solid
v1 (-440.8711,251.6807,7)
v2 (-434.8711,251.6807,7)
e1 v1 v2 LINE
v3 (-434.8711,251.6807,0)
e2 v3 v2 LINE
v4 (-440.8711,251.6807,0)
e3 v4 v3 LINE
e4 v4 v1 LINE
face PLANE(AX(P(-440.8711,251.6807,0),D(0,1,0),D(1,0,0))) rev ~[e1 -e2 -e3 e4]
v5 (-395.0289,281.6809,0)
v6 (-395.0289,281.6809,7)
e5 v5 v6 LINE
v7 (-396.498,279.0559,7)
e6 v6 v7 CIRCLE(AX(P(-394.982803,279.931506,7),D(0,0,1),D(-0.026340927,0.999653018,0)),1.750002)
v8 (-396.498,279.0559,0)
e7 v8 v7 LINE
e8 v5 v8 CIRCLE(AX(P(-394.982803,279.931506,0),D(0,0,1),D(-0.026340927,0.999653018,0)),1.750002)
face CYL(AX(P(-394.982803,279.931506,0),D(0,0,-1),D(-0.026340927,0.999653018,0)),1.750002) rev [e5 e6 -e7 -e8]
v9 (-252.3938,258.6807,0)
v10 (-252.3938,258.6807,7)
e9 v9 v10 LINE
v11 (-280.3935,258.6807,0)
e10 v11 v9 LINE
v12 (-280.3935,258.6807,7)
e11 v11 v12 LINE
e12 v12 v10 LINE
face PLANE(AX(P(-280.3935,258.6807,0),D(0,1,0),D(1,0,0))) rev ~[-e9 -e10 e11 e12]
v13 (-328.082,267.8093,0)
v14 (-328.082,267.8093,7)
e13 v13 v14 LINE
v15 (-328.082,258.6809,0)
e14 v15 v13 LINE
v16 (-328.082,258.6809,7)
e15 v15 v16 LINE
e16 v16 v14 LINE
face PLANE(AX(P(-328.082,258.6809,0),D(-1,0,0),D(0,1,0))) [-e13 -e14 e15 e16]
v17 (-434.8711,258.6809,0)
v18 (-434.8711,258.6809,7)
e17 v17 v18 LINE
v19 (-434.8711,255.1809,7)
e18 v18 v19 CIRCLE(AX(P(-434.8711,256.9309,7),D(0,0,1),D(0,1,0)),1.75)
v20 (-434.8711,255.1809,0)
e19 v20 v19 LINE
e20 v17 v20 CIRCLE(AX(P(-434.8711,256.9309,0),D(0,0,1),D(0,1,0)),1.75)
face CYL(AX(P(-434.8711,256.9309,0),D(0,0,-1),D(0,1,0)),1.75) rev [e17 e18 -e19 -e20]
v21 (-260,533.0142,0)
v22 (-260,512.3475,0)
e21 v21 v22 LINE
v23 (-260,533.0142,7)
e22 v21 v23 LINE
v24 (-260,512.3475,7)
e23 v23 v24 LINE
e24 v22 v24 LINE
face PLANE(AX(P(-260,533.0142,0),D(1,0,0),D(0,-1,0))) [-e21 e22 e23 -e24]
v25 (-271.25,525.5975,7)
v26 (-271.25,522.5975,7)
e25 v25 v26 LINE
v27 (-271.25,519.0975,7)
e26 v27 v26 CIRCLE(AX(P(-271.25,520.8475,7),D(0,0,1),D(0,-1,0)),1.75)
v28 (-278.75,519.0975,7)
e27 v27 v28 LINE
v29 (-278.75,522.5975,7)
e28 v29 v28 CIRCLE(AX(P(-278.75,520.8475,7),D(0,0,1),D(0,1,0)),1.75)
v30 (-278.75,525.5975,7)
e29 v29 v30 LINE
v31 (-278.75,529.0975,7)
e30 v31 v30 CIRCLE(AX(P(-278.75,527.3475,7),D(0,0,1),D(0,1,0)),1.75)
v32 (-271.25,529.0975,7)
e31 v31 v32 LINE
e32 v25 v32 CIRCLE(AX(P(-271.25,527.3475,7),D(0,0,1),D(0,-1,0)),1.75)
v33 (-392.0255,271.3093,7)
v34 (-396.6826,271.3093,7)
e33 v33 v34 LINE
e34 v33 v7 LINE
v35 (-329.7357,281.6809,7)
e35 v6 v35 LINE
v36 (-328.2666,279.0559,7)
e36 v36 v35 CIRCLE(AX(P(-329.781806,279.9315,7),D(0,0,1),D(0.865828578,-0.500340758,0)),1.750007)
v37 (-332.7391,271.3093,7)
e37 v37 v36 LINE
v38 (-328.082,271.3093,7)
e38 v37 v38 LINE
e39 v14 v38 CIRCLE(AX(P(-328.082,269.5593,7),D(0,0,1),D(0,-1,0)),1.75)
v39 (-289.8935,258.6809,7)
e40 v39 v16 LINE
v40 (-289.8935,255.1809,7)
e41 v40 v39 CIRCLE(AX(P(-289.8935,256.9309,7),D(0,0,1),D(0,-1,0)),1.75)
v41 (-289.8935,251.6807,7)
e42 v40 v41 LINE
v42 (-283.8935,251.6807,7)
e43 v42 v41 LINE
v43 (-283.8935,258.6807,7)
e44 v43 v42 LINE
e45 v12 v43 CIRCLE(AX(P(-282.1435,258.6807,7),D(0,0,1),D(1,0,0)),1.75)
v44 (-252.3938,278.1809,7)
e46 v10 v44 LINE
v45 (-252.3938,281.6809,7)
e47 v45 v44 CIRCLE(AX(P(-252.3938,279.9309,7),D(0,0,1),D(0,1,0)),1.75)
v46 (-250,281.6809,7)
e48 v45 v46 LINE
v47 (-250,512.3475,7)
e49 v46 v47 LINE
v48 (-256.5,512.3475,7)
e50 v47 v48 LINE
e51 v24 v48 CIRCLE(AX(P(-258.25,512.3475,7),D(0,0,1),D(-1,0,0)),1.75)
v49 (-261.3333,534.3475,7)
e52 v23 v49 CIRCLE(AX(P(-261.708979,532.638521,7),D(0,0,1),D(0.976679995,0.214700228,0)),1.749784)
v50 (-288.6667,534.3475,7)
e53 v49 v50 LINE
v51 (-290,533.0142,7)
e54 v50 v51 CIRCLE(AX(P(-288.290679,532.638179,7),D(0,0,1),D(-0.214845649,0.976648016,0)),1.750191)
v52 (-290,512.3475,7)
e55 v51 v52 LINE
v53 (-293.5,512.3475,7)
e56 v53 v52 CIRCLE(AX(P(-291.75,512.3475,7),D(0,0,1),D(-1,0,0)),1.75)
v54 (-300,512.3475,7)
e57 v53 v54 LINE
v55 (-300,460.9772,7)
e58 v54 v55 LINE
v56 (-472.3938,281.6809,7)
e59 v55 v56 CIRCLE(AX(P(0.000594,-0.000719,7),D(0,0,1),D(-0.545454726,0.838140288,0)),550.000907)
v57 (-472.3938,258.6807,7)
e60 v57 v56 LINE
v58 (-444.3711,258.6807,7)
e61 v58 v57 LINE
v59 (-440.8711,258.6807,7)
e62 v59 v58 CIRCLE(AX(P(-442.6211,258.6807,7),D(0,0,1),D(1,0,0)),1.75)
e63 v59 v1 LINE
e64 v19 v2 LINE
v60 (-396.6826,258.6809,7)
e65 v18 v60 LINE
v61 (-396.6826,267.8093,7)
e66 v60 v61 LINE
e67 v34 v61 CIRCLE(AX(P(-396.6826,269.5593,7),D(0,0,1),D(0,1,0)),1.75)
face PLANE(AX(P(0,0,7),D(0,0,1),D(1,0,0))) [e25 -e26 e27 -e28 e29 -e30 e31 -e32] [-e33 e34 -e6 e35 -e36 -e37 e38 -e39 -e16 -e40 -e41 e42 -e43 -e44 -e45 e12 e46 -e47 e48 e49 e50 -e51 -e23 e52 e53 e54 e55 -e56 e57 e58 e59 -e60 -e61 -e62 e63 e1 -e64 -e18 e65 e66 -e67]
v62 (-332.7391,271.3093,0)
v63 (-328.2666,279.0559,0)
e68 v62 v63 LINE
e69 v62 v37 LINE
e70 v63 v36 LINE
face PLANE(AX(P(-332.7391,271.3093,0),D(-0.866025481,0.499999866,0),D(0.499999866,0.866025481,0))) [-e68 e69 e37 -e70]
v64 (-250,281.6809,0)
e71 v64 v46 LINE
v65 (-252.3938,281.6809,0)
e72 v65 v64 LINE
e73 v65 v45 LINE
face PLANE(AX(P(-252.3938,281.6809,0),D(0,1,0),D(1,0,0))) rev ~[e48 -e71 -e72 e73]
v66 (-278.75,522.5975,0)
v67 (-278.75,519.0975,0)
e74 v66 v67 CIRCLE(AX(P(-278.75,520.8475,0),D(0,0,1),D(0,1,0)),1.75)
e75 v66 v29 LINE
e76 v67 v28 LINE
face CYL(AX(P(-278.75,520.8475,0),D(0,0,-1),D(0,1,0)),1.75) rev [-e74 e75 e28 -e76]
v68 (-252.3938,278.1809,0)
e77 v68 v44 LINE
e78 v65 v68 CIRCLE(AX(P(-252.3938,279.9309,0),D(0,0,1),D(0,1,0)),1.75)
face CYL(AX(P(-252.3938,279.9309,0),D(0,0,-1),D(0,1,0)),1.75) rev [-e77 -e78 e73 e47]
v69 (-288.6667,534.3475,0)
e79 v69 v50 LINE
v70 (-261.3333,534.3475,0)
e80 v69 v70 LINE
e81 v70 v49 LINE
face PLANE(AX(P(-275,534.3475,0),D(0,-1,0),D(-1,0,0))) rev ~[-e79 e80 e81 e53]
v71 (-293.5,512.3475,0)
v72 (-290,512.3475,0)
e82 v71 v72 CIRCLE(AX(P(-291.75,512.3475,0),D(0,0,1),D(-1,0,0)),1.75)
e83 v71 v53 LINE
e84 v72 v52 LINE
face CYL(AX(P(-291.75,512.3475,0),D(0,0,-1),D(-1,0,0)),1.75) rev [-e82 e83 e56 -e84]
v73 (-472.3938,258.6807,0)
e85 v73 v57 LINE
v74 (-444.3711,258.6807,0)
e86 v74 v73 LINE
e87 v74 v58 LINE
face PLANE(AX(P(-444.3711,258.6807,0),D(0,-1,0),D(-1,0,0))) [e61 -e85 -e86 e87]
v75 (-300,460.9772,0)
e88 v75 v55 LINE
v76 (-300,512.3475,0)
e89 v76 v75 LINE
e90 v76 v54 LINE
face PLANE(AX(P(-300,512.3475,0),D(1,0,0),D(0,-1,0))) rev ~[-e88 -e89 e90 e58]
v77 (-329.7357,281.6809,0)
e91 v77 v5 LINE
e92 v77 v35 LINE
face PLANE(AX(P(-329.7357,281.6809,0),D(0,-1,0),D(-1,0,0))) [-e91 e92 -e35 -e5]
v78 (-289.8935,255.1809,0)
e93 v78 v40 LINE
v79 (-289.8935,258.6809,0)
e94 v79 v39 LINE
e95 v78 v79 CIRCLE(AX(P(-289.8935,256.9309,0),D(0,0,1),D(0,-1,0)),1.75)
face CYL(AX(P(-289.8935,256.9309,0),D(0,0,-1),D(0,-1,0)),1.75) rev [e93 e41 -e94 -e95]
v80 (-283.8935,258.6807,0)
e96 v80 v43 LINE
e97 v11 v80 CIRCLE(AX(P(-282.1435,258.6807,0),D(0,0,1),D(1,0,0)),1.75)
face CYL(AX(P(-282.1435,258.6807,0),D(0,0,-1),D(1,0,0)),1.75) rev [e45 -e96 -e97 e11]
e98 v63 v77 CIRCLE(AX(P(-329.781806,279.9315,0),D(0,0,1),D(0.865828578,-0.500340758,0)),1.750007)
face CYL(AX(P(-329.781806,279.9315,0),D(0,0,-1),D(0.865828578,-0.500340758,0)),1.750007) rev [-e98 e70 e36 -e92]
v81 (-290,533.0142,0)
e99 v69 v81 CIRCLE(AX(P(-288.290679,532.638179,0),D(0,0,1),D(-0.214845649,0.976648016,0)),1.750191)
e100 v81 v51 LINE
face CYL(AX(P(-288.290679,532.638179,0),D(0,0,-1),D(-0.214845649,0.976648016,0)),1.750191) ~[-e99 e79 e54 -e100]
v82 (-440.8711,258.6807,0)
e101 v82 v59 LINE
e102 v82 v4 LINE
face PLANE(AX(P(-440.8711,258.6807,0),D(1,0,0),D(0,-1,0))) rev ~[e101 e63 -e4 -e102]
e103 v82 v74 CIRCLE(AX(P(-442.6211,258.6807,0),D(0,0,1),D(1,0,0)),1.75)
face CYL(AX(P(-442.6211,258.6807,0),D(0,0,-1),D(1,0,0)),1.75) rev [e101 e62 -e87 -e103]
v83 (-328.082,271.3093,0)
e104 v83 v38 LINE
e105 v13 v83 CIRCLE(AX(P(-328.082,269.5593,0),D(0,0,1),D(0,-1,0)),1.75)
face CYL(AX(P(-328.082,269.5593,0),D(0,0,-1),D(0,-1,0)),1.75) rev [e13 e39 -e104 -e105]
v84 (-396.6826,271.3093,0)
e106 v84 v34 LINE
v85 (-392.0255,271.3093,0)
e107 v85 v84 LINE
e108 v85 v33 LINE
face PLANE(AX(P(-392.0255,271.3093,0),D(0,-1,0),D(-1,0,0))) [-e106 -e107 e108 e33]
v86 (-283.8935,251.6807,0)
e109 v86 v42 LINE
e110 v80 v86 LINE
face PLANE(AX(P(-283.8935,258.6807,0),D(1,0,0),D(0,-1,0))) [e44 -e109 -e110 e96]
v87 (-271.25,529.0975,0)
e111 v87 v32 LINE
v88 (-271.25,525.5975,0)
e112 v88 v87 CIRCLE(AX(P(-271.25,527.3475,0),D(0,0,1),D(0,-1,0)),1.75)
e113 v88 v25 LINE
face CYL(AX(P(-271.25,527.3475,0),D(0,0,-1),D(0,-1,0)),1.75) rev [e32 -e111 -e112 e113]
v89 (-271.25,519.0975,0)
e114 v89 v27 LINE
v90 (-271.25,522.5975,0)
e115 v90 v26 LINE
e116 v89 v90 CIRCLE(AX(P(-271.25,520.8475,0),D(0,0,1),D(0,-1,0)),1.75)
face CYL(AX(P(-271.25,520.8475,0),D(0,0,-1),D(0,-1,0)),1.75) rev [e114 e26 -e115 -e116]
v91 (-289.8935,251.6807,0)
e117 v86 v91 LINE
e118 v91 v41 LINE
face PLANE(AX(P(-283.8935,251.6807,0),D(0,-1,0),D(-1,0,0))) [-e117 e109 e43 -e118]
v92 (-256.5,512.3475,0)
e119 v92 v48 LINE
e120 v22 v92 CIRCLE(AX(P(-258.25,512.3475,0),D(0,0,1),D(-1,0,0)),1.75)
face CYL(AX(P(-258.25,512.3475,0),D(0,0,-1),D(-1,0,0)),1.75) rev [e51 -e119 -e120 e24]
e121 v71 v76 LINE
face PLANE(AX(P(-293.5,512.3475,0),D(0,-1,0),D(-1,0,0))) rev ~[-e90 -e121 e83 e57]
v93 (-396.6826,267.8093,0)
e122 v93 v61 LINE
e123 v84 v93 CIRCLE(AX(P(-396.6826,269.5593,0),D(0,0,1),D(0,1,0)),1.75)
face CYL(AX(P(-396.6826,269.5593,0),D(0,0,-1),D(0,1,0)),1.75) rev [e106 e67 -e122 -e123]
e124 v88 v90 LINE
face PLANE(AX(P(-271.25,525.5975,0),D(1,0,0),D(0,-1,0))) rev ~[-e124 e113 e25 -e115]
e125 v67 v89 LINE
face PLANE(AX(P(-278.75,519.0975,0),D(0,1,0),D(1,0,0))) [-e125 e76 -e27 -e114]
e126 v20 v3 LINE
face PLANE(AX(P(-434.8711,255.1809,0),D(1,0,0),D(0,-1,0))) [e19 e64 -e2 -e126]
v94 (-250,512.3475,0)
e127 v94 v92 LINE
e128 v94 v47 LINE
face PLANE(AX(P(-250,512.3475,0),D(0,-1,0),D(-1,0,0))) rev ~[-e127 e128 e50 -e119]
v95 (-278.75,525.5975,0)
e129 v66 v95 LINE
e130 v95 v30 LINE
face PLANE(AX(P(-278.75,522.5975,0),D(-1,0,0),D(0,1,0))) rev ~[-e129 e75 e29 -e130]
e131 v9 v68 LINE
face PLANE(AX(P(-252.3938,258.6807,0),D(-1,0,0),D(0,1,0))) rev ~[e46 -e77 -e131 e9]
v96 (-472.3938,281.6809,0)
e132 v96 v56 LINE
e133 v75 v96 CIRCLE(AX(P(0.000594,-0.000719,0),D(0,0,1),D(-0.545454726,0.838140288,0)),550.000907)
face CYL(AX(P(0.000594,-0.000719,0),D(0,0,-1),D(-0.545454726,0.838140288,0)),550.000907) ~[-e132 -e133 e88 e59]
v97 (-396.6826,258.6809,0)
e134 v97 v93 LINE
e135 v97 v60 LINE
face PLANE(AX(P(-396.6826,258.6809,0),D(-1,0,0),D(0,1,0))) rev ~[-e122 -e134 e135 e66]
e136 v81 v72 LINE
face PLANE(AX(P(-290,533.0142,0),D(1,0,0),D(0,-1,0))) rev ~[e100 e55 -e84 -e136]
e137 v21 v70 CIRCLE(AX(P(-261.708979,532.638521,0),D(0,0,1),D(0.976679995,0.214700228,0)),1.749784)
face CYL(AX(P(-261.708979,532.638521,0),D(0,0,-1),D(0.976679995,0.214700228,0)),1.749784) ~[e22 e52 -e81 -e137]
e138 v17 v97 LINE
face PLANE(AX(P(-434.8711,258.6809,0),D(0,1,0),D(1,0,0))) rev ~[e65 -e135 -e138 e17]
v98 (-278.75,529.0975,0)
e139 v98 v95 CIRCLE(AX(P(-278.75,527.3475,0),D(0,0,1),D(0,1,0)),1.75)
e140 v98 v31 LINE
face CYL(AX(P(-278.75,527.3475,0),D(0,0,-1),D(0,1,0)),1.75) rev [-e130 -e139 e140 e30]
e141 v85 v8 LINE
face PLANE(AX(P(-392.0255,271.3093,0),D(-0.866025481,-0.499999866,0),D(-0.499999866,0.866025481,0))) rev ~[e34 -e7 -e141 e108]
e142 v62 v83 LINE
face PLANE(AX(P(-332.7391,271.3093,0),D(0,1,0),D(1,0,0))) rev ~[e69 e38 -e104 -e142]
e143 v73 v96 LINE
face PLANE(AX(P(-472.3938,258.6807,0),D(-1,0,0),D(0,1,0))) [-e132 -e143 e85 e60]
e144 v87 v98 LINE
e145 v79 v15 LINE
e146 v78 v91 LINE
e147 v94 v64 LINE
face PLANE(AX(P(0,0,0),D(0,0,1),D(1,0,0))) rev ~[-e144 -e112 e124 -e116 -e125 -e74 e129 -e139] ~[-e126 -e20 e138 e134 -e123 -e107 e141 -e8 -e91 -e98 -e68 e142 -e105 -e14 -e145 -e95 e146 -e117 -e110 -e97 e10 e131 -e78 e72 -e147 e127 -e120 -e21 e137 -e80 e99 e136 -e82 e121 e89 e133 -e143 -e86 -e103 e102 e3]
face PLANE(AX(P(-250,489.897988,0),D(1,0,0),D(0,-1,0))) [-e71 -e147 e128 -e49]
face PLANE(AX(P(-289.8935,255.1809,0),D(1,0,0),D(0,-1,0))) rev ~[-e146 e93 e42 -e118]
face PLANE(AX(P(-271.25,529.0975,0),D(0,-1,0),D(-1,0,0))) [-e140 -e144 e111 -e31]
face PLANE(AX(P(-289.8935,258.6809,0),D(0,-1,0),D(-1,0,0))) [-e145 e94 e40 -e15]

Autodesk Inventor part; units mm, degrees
ref_plane "YZ Plane" through (0, 0, 0) normal (1, 0, 0) x (0, 1, 0)
ref_plane "XZ Plane" through (0, 0, 0) normal (0, 1, 0) x (-1, 0, 0)
ref_plane "XY Plane" through (0, 0, 0) normal (0, 0, 1) x (1, 0, 0)
sketch "Sketch1" plane through (0, 0, 0) normal (0, 0, 1) x (1, 0, 0)
  line L0 (-150, -512.3475) -> (-150, -323.3356) construction
  line L1 (-472.3938, -281.6809) -> (-252.3938, -281.6809) construction
  line L2 (-489.0365, 251.6809) -> (-252.3938, 251.6809) construction
  line L3 (-472.3938, 281.6809) -> (-252.3938, 281.6809) construction
  line L4 (-472.3938, -251.6809) -> (-252.3938, -251.6809) construction
  line L5 (-356.435, 15) -> (-576.435, 15) construction
  line L6 (-472.3938, -281.6809) -> (-472.3938, -251.6809) construction
  line L7 (-252.3938, -281.6809) -> (-252.3938, -251.6809) construction
  line L8 (-252.3938, 278.1809) -> (-252.3938, 251.6809) construction
  line L9 (-472.3938, 281.6809) -> (-472.3938, 251.6809) construction
  line L10 (-356.435, 15) -> (-356.435, -15) construction
  line L11 (-356.435, -15) -> (-576.435, -15) construction
  line L12 (-576.435, -15) -> (-576.435, 15) construction
  arc A0 (-150, -323.3356) -> (0, -356.435) centre (0, 0) ccw construction
  arc A1 (-156.5, -512.3475) -> (-160, -512.3475) centre (-158.25, -512.3475) ccw construction
  arc A2 (-190, -512.3475) -> (-193.5, -512.3475) centre (-191.75, -512.3475) ccw construction
  line L13 (-178.75, -519.0975) -> (-175, -519.0975) construction
  line L14 (-178.75, -529.0975) -> (-175, -529.0975) construction
  line L15 (-175, -519.0975) -> (-175, -529.0975) construction
  arc A3 (-178.75, -519.0975) -> (-178.75, -522.5975) centre (-178.75, -520.8475) ccw construction
  arc A4 (-178.75, -525.5975) -> (-178.75, -529.0975) centre (-178.75, -527.3475) ccw construction
  line L16 (-171.25, -519.0975) -> (-175, -519.0975) construction
  line L17 (-171.25, -529.0975) -> (-175, -529.0975) construction
  arc A5 (-171.25, -522.5975) -> (-171.25, -519.0975) centre (-171.25, -520.8475) ccw construction
  arc A6 (-171.25, -529.0975) -> (-171.25, -525.5975) centre (-171.25, -527.3475) ccw construction
  line L18 (-252.3938, 251.6809) -> (-489.0365, 251.6809) construction
  arc A7 (-334.9122, -265.623) -> (-335.582, -268.123) centre (-330.582, -268.123) ccw construction
  line L19 (-328.3782, -254.3059) -> (-334.9122, -265.623) construction
  arc A8 (-328.3782, -254.3059) -> (-329.8938, -251.6809) centre (-329.8938, -253.4309) ccw construction
  line L20 (-329.8938, -251.6809) -> (-394.8938, -251.6809) construction
  line L21 (-362.3938, -251.6809) -> (-362.3938, -293.6041) construction
  arc A9 (-389.2055, -268.123) -> (-389.8754, -265.623) centre (-394.2055, -268.123) ccw construction
  arc A10 (-394.8938, -251.6809) -> (-396.4093, -254.3059) centre (-394.8938, -253.4309) ccw construction
  line L22 (-396.4093, -254.3059) -> (-389.8754, -265.623) construction
  arc A11 (-389.2055, -291.6809) -> (-389.2055, -288.1809) centre (-389.2055, -289.9309) ccw construction
  line L23 (-389.2055, -291.6809) -> (-396.7055, -291.6809) construction
  line L24 (-396.7055, -281.6809) -> (-472.3938, -281.6809) construction
  line L25 (-328.082, -281.6809) -> (-252.3938, -281.6809) construction
  line L26 (-252.3938, -287.3475) -> (-210.8964, -287.3475) construction
  arc A12 (-210.8964, -287.3475) -> (-150, -323.3356) centre (0, 0) ccw construction
  arc A13 (-472.3938, -281.6809) -> (-246.475, -491.6809) centre (0, 0) ccw construction
  line L27 (-171.25, -436.0915) -> (-171.25, -399.5915) construction
  line L28 (-178.75, -436.0915) -> (-178.75, -399.5915) construction
  line L29 (-177, -437.8415) -> (-173, -437.8415) construction
  line L30 (-177, -397.8415) -> (-173, -397.8415) construction
  arc A14 (-177, -397.8415) -> (-178.75, -399.5915) centre (-177, -399.5915) ccw construction
  arc A15 (-178.75, -436.0915) -> (-177, -437.8415) centre (-177, -436.0915) ccw construction
  arc A16 (-173, -437.8415) -> (-171.25, -436.0915) centre (-173, -436.0915) ccw construction
  arc A17 (-171.25, -399.5915) -> (-173, -397.8415) centre (-173, -399.5915) ccw construction
  line L31 (-200, -512.3475) -> (-200, -491.6809) construction
  arc A18 (-200, -491.6809) -> (-203.5, -491.6809) centre (-201.75, -491.6809) ccw construction
  line L32 (-160, -512.3475) -> (-160, -532.5975) construction
  line L33 (-161.75, -534.3475) -> (-188.25, -534.3475) construction
  line L34 (-190, -532.5975) -> (-190, -512.3475) construction
  line L35 (-171.25, -522.5975) -> (-171.25, -525.5975) construction
  line L36 (-178.75, -522.5975) -> (-178.75, -525.5975) construction
  arc A19 (-190, -532.5975) -> (-188.25, -534.3475) centre (-188.25, -532.5975) ccw construction
  arc A20 (-161.75, -534.3475) -> (-160, -532.5975) centre (-161.75, -532.5975) ccw construction
  line L37 (-156.5, -512.3475) -> (-150, -512.3475) construction
  line L38 (-193.5, -512.3475) -> (-200, -512.3475) construction
  line L39 (-203.5, -491.6809) -> (-246.475, -491.6809) construction
  arc A21 (-396.7055, -288.1809) -> (-396.7055, -291.6809) centre (-396.7055, -289.9309) ccw construction
  line L40 (-396.7055, -281.6809) -> (-396.7055, -288.1809) construction
  line L41 (-389.2055, -288.1809) -> (-389.2055, -268.123) construction
  arc A22 (-335.582, -288.1809) -> (-335.582, -291.6809) centre (-335.582, -289.9309) ccw construction
  line L42 (-335.582, -291.6809) -> (-328.082, -291.6809) construction
  arc A23 (-328.082, -291.6809) -> (-328.082, -288.1809) centre (-328.082, -289.9309) ccw construction
  line L43 (-328.082, -281.6809) -> (-328.082, -288.1809) construction
  line L44 (-335.582, -288.1809) -> (-335.582, -268.123) construction
  arc A24 (-252.3938, -283.8475) -> (-252.3938, -287.3475) centre (-252.3938, -285.5975) ccw construction
  line L45 (-252.3938, -283.8475) -> (-252.3938, -281.6809) construction
  arc A25 (-479.7691, -25) -> (-479.7691, -21.5) centre (-479.7691, -23.25) ccw construction
  arc A26 (-479.7691, -1.4421) -> (-480.4389, 1.0579) centre (-484.7691, -1.4421) ccw construction
  line L46 (-486.9729, 12.375) -> (-480.4389, 1.0579) construction
  arc A27 (-485.4573, 15) -> (-486.9729, 12.375) centre (-485.4573, 13.25) ccw construction
  line L47 (-420.4573, 15) -> (-485.4573, 15) construction
  arc A28 (-425.4757, 1.0579) -> (-426.1456, -1.4421) centre (-421.1456, -1.4421) ccw construction
  arc A29 (-418.9418, 12.375) -> (-420.4573, 15) centre (-420.4573, 13.25) ccw construction
  line L48 (-418.9418, 12.375) -> (-425.4757, 1.0579) construction
  line L49 (-452.9573, 15) -> (-452.9573, -26.9232) construction
  line L50 (-479.7691, -25) -> (-487.2691, -25) construction
  line L51 (-487.2691, -15) -> (-549.7954, -15) construction
  arc A30 (-487.2691, -21.5) -> (-487.2691, -25) centre (-487.2691, -23.25) ccw construction
  line L52 (-487.2691, -15) -> (-487.2691, -21.5) construction
  line L53 (-479.7691, -21.5) -> (-479.7691, -1.4421) construction
  line L54 (-426.1456, -21.5) -> (-426.1456, -1.4421) construction
  arc A31 (-426.1456, -21.5) -> (-426.1456, -25) centre (-426.1456, -23.25) ccw construction
  line L55 (-426.1456, -25) -> (-418.6456, -25) construction
  arc A32 (-418.6456, -25) -> (-418.6456, -21.5) centre (-418.6456, -23.25) ccw construction
  line L56 (-418.6456, -15) -> (-418.6456, -21.5) construction
  line L57 (276.2049, -135.3556) -> (280.6774, -127.609)
  line L58 (279.2083, -124.984) -> (246.5502, -124.984)
  arc A33 (319.0505, -151.484) -> (319.0505, -147.984) centre (319.0505, -149.734) ccw
  arc A34 (328.5505, -147.9841) -> (325.0505, -147.9841) centre (326.8005, -147.9841) ccw
  line L59 (319.0505, -147.984) -> (280.8619, -147.984)
  arc A35 (214.0502, -164.7817) -> (212.5346, -167.4067) centre (214.0502, -166.5317) ccw
  arc A36 (280.5657, -167.4067) -> (279.0502, -164.7817) centre (279.0502, -166.5317) ccw
  arc A37 (274.0318, -178.7238) -> (273.3619, -181.2238) centre (278.3619, -181.2238) ccw
  line L60 (280.5657, -167.4067) -> (274.0318, -178.7238)
  line L61 (273.3619, -201.2817) -> (273.3619, -181.2238)
  arc A38 (273.3619, -201.2817) -> (273.3619, -204.7817) centre (273.3619, -203.0317) ccw
  line L62 (273.3619, -204.7817) -> (280.8619, -204.7817)
  arc A39 (280.8619, -204.7817) -> (280.8619, -201.2817) centre (280.8619, -203.0317) ccw
  line L63 (280.8619, -194.7817) -> (280.8619, -201.2817)
  line L64 (212.2384, -194.7817) -> (212.2384, -201.2817)
  arc A40 (212.2384, -201.2817) -> (212.2384, -204.7817) centre (212.2384, -203.0317) ccw
  arc A41 (219.7384, -204.7817) -> (219.7384, -201.2817) centre (219.7384, -203.0317) ccw
  line L65 (279.0502, -164.7817) -> (214.0502, -164.7817)
  line L66 (219.7384, -201.2817) -> (219.7384, -181.2238)
  line L67 (219.7384, -204.7817) -> (212.2384, -204.7817)
  arc A42 (219.7384, -181.2238) -> (219.0686, -178.7238) centre (214.7384, -181.2238) ccw
  line L68 (212.5346, -167.4067) -> (219.0686, -178.7238)
  line L69 (212.2384, -194.7817) -> (136.5502, -194.7817)
  line L70 (280.8619, -194.7817) -> (356.5502, -194.7817)
  line L71 (325.0505, -147.9841) -> (325.0505, -154.9841)
  line L72 (325.0505, -154.9841) -> (319.0505, -154.9841)
  line L73 (319.0505, -151.484) -> (319.0505, -154.9841)
  line L74 (246.5502, -124.984) -> (246.5502, -110.6064)
  arc A43 (280.6774, -127.609) -> (279.2083, -124.984) centre (279.1622, -126.7334) ccw
  arc A44 (280.8619, -138.8556) -> (280.8619, -135.3556) centre (280.8619, -137.1056) ccw
  line L75 (276.2049, -135.3556) -> (280.8619, -135.3556)
  line L76 (246.5502, -164.7817) -> (246.5502, -170.2759)
  line L77 (280.8619, -147.984) -> (280.8619, -138.8556)
  arc A45 (168.0499, -147.9841) -> (164.5499, -147.9841) centre (166.2999, -147.9841) ccw
  arc A46 (174.0499, -147.984) -> (174.0499, -151.484) centre (174.0499, -149.734) ccw
  line L78 (213.8921, -124.984) -> (246.5502, -124.984)
  line L79 (174.0499, -147.984) -> (212.2384, -147.984)
  line L80 (216.8955, -135.3556) -> (212.423, -127.609)
  line L81 (168.0499, -147.9841) -> (168.0499, -154.9841)
  line L82 (168.0499, -154.9841) -> (174.0499, -154.9841)
  line L83 (174.0499, -151.484) -> (174.0499, -154.9841)
  arc A47 (213.8921, -124.984) -> (212.423, -127.609) centre (213.9382, -126.7334) ccw
  arc A48 (212.2384, -135.3556) -> (212.2384, -138.8556) centre (212.2384, -137.1056) ccw
  line L84 (216.8955, -135.3556) -> (212.2384, -135.3556)
  line L85 (212.2384, -147.984) -> (212.2384, -138.8556)
  arc A49 (-280.3963, -274.7808) -> (-283.8935, -274.681) centre (-282.1435, -274.681) ccw construction
  arc A50 (-289.8935, -278.1809) -> (-289.8935, -274.6809) centre (-289.8935, -276.4309) ccw construction
  line L86 (-329.7357, -251.6809) -> (-362.3938, -251.6809) construction
  line L87 (-289.8935, -274.6809) -> (-328.082, -274.6809) construction
  line L88 (-332.7391, -262.0525) -> (-328.2666, -254.3059) construction
  line L89 (-283.8935, -274.681) -> (-283.8935, -281.681) construction
  line L90 (-283.8935, -281.681) -> (-289.8935, -281.681) construction
  line L91 (-289.8935, -278.1809) -> (-289.8935, -281.681) construction
  arc A51 (-328.2666, -254.3059) -> (-329.7357, -251.6809) centre (-329.7818, -253.4303) ccw construction
  arc A52 (-328.082, -265.5525) -> (-328.082, -262.0525) centre (-328.082, -263.8025) ccw construction
  line L92 (-332.7391, -262.0525) -> (-328.082, -262.0525) construction
  line L93 (-328.082, -274.6809) -> (-328.082, -265.5525) construction
  line L94 (-392.0485, -262.0525) -> (-396.7055, -262.0525) construction
  arc A53 (-396.7055, -262.0525) -> (-396.7055, -265.5525) centre (-396.7055, -263.8025) ccw construction
  line L95 (-392.0485, -262.0525) -> (-396.521, -254.3059) construction
  arc A54 (-395.0519, -251.6809) -> (-396.521, -254.3059) centre (-395.0058, -253.4303) ccw construction
  line L96 (-396.7055, -274.6809) -> (-396.7055, -265.5525) construction
  line L97 (-434.8941, -278.1809) -> (-434.8941, -281.681) construction
  line L98 (-434.8941, -274.6809) -> (-396.7055, -274.6809) construction
  arc A55 (-434.8941, -274.6809) -> (-434.8941, -278.1809) centre (-434.8941, -276.4309) ccw construction
  line L99 (-440.8941, -281.681) -> (-434.8941, -281.681) construction
  line L100 (-440.8941, -274.681) -> (-440.8941, -281.681) construction
  arc A56 (-440.8941, -274.681) -> (-444.3912, -274.7808) centre (-442.6441, -274.681) ccw construction
  line L101 (-395.0519, -251.6809) -> (-362.3938, -251.6809) construction
  line L102 (-444.3912, -274.7808) -> (-476.4404, -274.7808) construction
  arc A57 (-355.7859, -21.5) -> (-227.0273, -274.7808) centre (0, 0) ccw construction
  arc A58 (-549.7954, -15) -> (-476.4404, -274.7808) centre (0, 0) ccw construction
  line L103 (-280.3963, -274.7808) -> (-227.0273, -274.7808) construction
  line L104 (-364.1192, -15) -> (-364.1192, -18) construction
  arc A59 (-364.1192, -18) -> (-364.1192, -21.5) centre (-364.1192, -19.75) ccw construction
  line L105 (-364.1192, -21.5) -> (-355.7859, -21.5) construction
  line L106 (-356.1192, -15) -> (-356.435, -15) construction
  line L107 (-364.1192, -15) -> (-549.7954, -15) construction
  line L108 (-418.6456, -15) -> (-364.1192, -15) construction
  arc A60 (-370.957, -8.0002) -> (-374.457, -8.0002) centre (-372.707, -8.0002) ccw construction
  arc A61 (-380.457, -11.5) -> (-380.457, -8) centre (-380.457, -9.75) ccw construction
  line L109 (-420.2992, 15) -> (-452.9573, 15) construction
  line L110 (-380.457, -8) -> (-418.6456, -8) construction
  line L111 (-423.3026, 4.6284) -> (-418.8301, 12.375) construction
  line L112 (-374.457, -8.0002) -> (-374.457, -15.0002) construction
  line L113 (-374.457, -15.0002) -> (-380.457, -15.0002) construction
  line L114 (-380.457, -11.5) -> (-380.457, -15.0002) construction
  line L115 (-452.9573, 15) -> (-452.9573, 29.3776) construction
  arc A62 (-418.8301, 12.375) -> (-420.2992, 15) centre (-420.3453, 13.2506) ccw construction
  arc A63 (-418.6456, 1.1284) -> (-418.6456, 4.6284) centre (-418.6456, 2.8784) ccw construction
  line L116 (-423.3026, 4.6284) -> (-418.6456, 4.6284) construction
  line L117 (-418.6456, -8) -> (-418.6456, 1.1284) construction
  line L118 (-482.612, 4.6284) -> (-487.2691, 4.6284) construction
  arc A64 (-487.2691, 4.6284) -> (-487.2691, 1.1284) centre (-487.2691, 2.8784) ccw construction
  line L119 (-482.612, 4.6284) -> (-487.0845, 12.375) construction
  arc A65 (-485.6154, 15) -> (-487.0845, 12.375) centre (-485.5693, 13.2506) ccw construction
  line L120 (-487.2691, -8) -> (-487.2691, 1.1284) construction
  line L121 (-525.4576, -11.5) -> (-525.4576, -15.0002) construction
  line L122 (-525.4576, -8) -> (-487.2691, -8) construction
  arc A66 (-525.4576, -8) -> (-525.4576, -11.5) centre (-525.4576, -9.75) ccw construction
  line L123 (-531.4576, -15.0002) -> (-525.4576, -15.0002) construction
  line L124 (-531.4576, -8.0002) -> (-531.4576, -15.0002) construction
  arc A67 (-531.4576, -8.0002) -> (-534.9576, -8.0002) centre (-533.2076, -8.0002) ccw construction
  line L125 (-485.6154, 15) -> (-452.9573, 15) construction
  line L126 (-370.957, -8.0002) -> (-356.3452, -8.0002) construction
  line L127 (-534.9576, -8.0002) -> (-549.9418, -8.0002) construction
  line L128 (-328.082, 251.6809) -> (-328.082, 245.1809) construction
  arc A68 (-328.082, 241.6809) -> (-328.082, 245.1809) centre (-328.082, 243.4309) ccw construction
  line L129 (-396.7055, 251.6809) -> (-396.7055, 245.1809) construction
  arc A69 (-396.7055, 245.1809) -> (-396.7055, 241.6809) centre (-396.7055, 243.4309) ccw construction
  arc A70 (-389.2055, 241.6809) -> (-389.2055, 245.1809) centre (-389.2055, 243.4309) ccw construction
  line L130 (-389.2055, 245.1809) -> (-389.2055, 265.2388) construction
  line L131 (-389.2055, 241.6809) -> (-396.7055, 241.6809) construction
  arc A71 (-389.2055, 265.2388) -> (-389.8754, 267.7388) centre (-394.2055, 265.2388) ccw construction
  line L132 (-396.4093, 279.0559) -> (-389.8754, 267.7388) construction
  arc A72 (-394.8938, 281.6809) -> (-396.4093, 279.0559) centre (-394.8938, 279.9309) ccw construction
  line L133 (-329.8938, 281.6809) -> (-394.8938, 281.6809) construction
  arc A73 (-334.9122, 267.7388) -> (-335.582, 265.2388) centre (-330.582, 265.2388) ccw construction
  arc A74 (-328.3782, 279.0559) -> (-329.8938, 281.6809) centre (-329.8938, 279.9309) ccw construction
  line L134 (-328.3782, 279.0559) -> (-334.9122, 267.7388) construction
  arc A75 (-335.582, 245.1809) -> (-335.582, 241.6809) centre (-335.582, 243.4309) ccw construction
  line L135 (-335.582, 241.6809) -> (-328.082, 241.6809) construction
  line L136 (-335.582, 245.1809) -> (-335.582, 265.2388) construction
  line L137 (-328.082, 251.6809) -> (-252.3938, 251.6809) construction
  line L138 (-396.7055, 251.6809) -> (-472.3938, 251.6809) construction
  line L139 (-362.3938, 281.6809) -> (-362.3938, 276.1867) construction
  line L140 (-472.3938, 251.6809) -> (-472.3938, 248.6809) construction
  arc A76 (-472.3938, 245.1809) -> (-472.3938, 248.6809) centre (-472.3938, 246.9309) ccw construction
  line L141 (-472.3938, 245.1809) -> (-492.3275, 245.1809) construction
  arc A77 (-492.3275, 245.1809) -> (-549.7954, 15) centre (0, 0) ccw construction
  arc A78 (-252.3938, 251.6809) -> (-356.3452, -8.0002) centre (0, 0) ccw construction
  line L142 (-549.7954, 15) -> (-576.435, 15) construction
  line L143 (-576.435, 15) -> (-576.435, -8.0002) construction
  line L144 (-549.9418, -8.0002) -> (-576.435, -8.0002) construction
  arc A79 (-280.3935, 258.6807) -> (-283.8935, 258.6807) centre (-282.1435, 258.6807) ccw
  arc A80 (-289.8935, 255.1809) -> (-289.8935, 258.6809) centre (-289.8935, 256.9309) ccw
  line L145 (-329.7357, 281.6809) -> (-362.3823, 281.6809)
  line L146 (-289.8935, 258.6809) -> (-328.082, 258.6809)
  line L147 (-332.7391, 271.3093) -> (-328.2666, 279.0559)
  line L148 (-283.8935, 258.6807) -> (-283.8935, 251.6807)
  line L149 (-283.8935, 251.6807) -> (-289.8935, 251.6807)
  line L150 (-289.8935, 255.1809) -> (-289.8935, 251.6807)
  line L151 (-362.3823, 281.6809) -> (-362.3823, 296.0585)
  arc A81 (-328.2666, 279.0559) -> (-329.7357, 281.6809) centre (-329.7818, 279.9315) ccw
  arc A82 (-328.082, 267.8093) -> (-328.082, 271.3093) centre (-328.082, 269.5593) ccw
  line L152 (-332.7391, 271.3093) -> (-328.082, 271.3093)
  line L153 (-328.082, 258.6809) -> (-328.082, 267.8093)
  line L154 (-392.0255, 271.3093) -> (-396.6826, 271.3093)
  arc A83 (-396.6826, 271.3093) -> (-396.6826, 267.8093) centre (-396.6826, 269.5593) ccw
  line L155 (-392.0255, 271.3093) -> (-396.498, 279.0559)
  arc A84 (-395.0289, 281.6809) -> (-396.498, 279.0559) centre (-394.9828, 279.9315) ccw
  line L156 (-396.6826, 258.6809) -> (-396.6826, 267.8093)
  line L157 (-434.8711, 255.1809) -> (-434.8711, 251.6807)
  line L158 (-434.8711, 258.6809) -> (-396.6826, 258.6809)
  arc A85 (-434.8711, 258.6809) -> (-434.8711, 255.1809) centre (-434.8711, 256.9309) ccw
  line L159 (-440.8711, 251.6807) -> (-434.8711, 251.6807)
  line L160 (-440.8711, 258.6807) -> (-440.8711, 251.6807)
  arc A86 (-440.8711, 258.6807) -> (-444.3711, 258.6807) centre (-442.6211, 258.6807) ccw
  line L161 (-395.0289, 281.6809) -> (-362.3823, 281.6809)
  line L162 (-444.3711, 258.6807) -> (-472.3938, 258.6807)
  line L163 (-280.3935, 258.6807) -> (-252.3938, 258.6807)
  line L164 (-252.3938, 258.6807) -> (-252.3938, 278.1809)
  line L165 (-252.3938, 281.6809) -> (-218.4073, 281.6809)
  arc A87 (-252.3938, 281.6809) -> (-252.3938, 278.1809) centre (-252.3938, 279.9309) ccw
  arc A88 (-271.25, 519.0975) -> (-271.25, 522.5975) centre (-271.25, 520.8475) ccw
  line L166 (-271.25, 519.0975) -> (-275, 519.0975)
  arc A89 (-271.25, 525.5975) -> (-271.25, 529.0975) centre (-271.25, 527.3475) ccw
  line L167 (-278.75, 519.0975) -> (-275, 519.0975)
  line L168 (-271.25, 529.0975) -> (-275, 529.0975)
  line L169 (-275, 519.0975) -> (-275, 529.0975)
  line L170 (-278.75, 529.0975) -> (-275, 529.0975)
  line L171 (-275, 534.3475) -> (-275, 537.9358)
  line L172 (-261.3333, 534.3475) -> (-288.6667, 534.3475)
  arc A90 (-260, 512.3475) -> (-256.5, 512.3475) centre (-258.25, 512.3475) ccw
  arc A91 (-293.5, 512.3475) -> (-290, 512.3475) centre (-291.75, 512.3475) ccw
  arc A92 (-278.75, 522.5975) -> (-278.75, 519.0975) centre (-278.75, 520.8475) ccw
  arc A93 (-278.75, 529.0975) -> (-278.75, 525.5975) centre (-278.75, 527.3475) ccw
  arc A94 (-288.6667, 534.3475) -> (-290, 533.0142) centre (-288.2908, 532.6384) ccw
  arc A95 (-260, 533.0142) -> (-261.3333, 534.3475) centre (-261.7092, 532.6384) ccw
  arc A96 (-291.7627, 515.4872) -> (-291.9051, 515.4342) centre (-100, 0) ccw
  line L173 (-250, 512.3475) -> (-250, 281.6809)
  line L174 (-300, 512.3475) -> (-300, 460.9772)
  arc A97 (-300, 460.9772) -> (-472.3938, 281.6809) centre (0, 0) ccw
  line L175 (-219.7787, 527.0975) -> (-219.7787, 529.0975)
  line L176 (-250, 512.3475) -> (-256.5, 512.3475)
  line L177 (-293.5, 512.3475) -> (-300, 512.3475)
  line L178 (-260, 533.0142) -> (-260, 512.3475)
  line L179 (-290, 533.0142) -> (-290, 512.3475)
  line L180 (-278.75, 522.5975) -> (-278.75, 525.5975)
  line L181 (-271.25, 525.5975) -> (-271.25, 522.5975)
  line L182 (-472.3938, 258.6807) -> (-472.3938, 281.6809)
  arc A98 (-485.3702, 258.6809) -> (-485.3703, 258.6807) centre (0, 0) ccw
  line L183 (-247.8856, -513.2316) -> (-248.7643, -288.2333) projected
  line L184 (-251.1802, -282.576) -> (-326.8679, -282.8716) projected
  point P0 (0, -512.3475)
  point P1 (-190, -534.3475)
  point P2 (-160, -534.3475)
  point P3 (-59.9119, -534.1417)
  point P4 (-389.2055, -259.0142)
  point P5 (-479.7691, 7.6667)
  point P6 (328.5476, -148.0839)
  point P7 (328.0311, -152.0673)
  point P8 (329.3645, -149.3173)
  point P9 (219.7384, -172.1151)
  point P10 (164.5527, -148.0839)
  point P11 (165.0692, -152.0673)
  point P12 (163.7359, -149.3173)
  point P13 (-280.9128, -278.7642)
  point P14 (-279.5795, -276.0142)
  point P15 (-443.8747, -278.7642)
  point P16 (-445.2081, -276.0142)
  point P17 (-370.9599, -8.1)
  point P18 (-371.4764, -12.0833)
  point P19 (-370.143, -9.3333)
  point P20 (-534.4382, -12.0833)
  point P21 (-534.9548, -8.1)
  point P22 (-535.7716, -9.3333)
  point P23 (-389.2055, 274.3475)
  point P24 (-280.3733, 258.5809)
  point P25 (-280.8899, 254.5975)
  point P26 (-279.5565, 257.3475)
  point P27 (-443.8747, 254.5975)
  point P28 (-444.3912, 258.5809)
  point P29 (-445.2081, 257.3475)
  point P30 (-290, 534.3475)
  point P31 (-260, 534.3475)
  dimension "d19" = 150
  dimension "d54" = 220
  dimension "d56" = 220
  dimension "d57" = 30
  dimension "d59" = 30
  dimension "d73" = 236.6809
  dimension "d74" = 236.6809
  dimension "d75" = 576.435
  dimension "d76" = 472.3938
  dimension "d77" = 472.3938
  dimension "d78" = 30
  dimension "d82" = 252.3938
  dimension "d85" = 356.435
  dimension "d88" = 3.5
  dimension "d89" = 30
  dimension "d90" = 22
  dimension "d91" = 3.5
  dimension "d103" = 3.75
  dimension "d104" = 3.75
  dimension "d134" = 3.5
  dimension "d135" = 65
  dimension "d136" = 65
  dimension "d137" = 7.3333
  dimension "d138" = 60
  dimension "d139" = 5
  dimension "d140" = 7.5
  dimension "d148" = 1.75
  dimension "d151" = 40
  dimension "d152" = 74.506
  dimension "d153" = 20.6667
  dimension "d154" = 3.5
  dimension "d155" = 189.012
  dimension "d159" = 1.75
  dimension "d160" = 1.75
  dimension "d161" = 1.75
  dimension "d164" = 7.5
  dimension "d168" = 21.25
  dimension "d170" = 30
  dimension "d171" = 1.75
  dimension "d172" = 10
  dimension "d173" = 3.5
  dimension "d177" = 3.5
  dimension "d178" = 65
  dimension "d179" = 65
  dimension "d180" = 7.3333
  dimension "d181" = 60
  dimension "d182" = 5
  dimension "d183" = 7.5
  dimension "d185" = 1.75
  dimension "d186" = 10
  dimension "d192" = 1.75
  dimension "d206" = 1.75
  dimension "d208" = 220
  dimension "d209" = 3.5
  dimension "d210" = 65
  dimension "d211" = 65
  dimension "d212" = 7.3333
  dimension "d213" = 60
  dimension "d214" = 5
  dimension "d215" = 7.5
  dimension "d216" = 30
  dimension "d217" = 1.75
  dimension "d218" = 10
  dimension "d219" = 7
extrude "Extrusion4" add sketch "Sketch1" along normal blind 7 contours A79 L148 L149 L150 A80 L146 L153 A82 L152 L147 A81 L145 L161 A84 L155 L154 A83 L156 L158 A85 L157 L159 L160 A86 L162 L182 A97 A98 L173 L165 A87 L164 L163 | A98 L174 L177 A91 L179 A94 L172 A95 L178 A90 L176 L173
properties part number "Support D - V2"
